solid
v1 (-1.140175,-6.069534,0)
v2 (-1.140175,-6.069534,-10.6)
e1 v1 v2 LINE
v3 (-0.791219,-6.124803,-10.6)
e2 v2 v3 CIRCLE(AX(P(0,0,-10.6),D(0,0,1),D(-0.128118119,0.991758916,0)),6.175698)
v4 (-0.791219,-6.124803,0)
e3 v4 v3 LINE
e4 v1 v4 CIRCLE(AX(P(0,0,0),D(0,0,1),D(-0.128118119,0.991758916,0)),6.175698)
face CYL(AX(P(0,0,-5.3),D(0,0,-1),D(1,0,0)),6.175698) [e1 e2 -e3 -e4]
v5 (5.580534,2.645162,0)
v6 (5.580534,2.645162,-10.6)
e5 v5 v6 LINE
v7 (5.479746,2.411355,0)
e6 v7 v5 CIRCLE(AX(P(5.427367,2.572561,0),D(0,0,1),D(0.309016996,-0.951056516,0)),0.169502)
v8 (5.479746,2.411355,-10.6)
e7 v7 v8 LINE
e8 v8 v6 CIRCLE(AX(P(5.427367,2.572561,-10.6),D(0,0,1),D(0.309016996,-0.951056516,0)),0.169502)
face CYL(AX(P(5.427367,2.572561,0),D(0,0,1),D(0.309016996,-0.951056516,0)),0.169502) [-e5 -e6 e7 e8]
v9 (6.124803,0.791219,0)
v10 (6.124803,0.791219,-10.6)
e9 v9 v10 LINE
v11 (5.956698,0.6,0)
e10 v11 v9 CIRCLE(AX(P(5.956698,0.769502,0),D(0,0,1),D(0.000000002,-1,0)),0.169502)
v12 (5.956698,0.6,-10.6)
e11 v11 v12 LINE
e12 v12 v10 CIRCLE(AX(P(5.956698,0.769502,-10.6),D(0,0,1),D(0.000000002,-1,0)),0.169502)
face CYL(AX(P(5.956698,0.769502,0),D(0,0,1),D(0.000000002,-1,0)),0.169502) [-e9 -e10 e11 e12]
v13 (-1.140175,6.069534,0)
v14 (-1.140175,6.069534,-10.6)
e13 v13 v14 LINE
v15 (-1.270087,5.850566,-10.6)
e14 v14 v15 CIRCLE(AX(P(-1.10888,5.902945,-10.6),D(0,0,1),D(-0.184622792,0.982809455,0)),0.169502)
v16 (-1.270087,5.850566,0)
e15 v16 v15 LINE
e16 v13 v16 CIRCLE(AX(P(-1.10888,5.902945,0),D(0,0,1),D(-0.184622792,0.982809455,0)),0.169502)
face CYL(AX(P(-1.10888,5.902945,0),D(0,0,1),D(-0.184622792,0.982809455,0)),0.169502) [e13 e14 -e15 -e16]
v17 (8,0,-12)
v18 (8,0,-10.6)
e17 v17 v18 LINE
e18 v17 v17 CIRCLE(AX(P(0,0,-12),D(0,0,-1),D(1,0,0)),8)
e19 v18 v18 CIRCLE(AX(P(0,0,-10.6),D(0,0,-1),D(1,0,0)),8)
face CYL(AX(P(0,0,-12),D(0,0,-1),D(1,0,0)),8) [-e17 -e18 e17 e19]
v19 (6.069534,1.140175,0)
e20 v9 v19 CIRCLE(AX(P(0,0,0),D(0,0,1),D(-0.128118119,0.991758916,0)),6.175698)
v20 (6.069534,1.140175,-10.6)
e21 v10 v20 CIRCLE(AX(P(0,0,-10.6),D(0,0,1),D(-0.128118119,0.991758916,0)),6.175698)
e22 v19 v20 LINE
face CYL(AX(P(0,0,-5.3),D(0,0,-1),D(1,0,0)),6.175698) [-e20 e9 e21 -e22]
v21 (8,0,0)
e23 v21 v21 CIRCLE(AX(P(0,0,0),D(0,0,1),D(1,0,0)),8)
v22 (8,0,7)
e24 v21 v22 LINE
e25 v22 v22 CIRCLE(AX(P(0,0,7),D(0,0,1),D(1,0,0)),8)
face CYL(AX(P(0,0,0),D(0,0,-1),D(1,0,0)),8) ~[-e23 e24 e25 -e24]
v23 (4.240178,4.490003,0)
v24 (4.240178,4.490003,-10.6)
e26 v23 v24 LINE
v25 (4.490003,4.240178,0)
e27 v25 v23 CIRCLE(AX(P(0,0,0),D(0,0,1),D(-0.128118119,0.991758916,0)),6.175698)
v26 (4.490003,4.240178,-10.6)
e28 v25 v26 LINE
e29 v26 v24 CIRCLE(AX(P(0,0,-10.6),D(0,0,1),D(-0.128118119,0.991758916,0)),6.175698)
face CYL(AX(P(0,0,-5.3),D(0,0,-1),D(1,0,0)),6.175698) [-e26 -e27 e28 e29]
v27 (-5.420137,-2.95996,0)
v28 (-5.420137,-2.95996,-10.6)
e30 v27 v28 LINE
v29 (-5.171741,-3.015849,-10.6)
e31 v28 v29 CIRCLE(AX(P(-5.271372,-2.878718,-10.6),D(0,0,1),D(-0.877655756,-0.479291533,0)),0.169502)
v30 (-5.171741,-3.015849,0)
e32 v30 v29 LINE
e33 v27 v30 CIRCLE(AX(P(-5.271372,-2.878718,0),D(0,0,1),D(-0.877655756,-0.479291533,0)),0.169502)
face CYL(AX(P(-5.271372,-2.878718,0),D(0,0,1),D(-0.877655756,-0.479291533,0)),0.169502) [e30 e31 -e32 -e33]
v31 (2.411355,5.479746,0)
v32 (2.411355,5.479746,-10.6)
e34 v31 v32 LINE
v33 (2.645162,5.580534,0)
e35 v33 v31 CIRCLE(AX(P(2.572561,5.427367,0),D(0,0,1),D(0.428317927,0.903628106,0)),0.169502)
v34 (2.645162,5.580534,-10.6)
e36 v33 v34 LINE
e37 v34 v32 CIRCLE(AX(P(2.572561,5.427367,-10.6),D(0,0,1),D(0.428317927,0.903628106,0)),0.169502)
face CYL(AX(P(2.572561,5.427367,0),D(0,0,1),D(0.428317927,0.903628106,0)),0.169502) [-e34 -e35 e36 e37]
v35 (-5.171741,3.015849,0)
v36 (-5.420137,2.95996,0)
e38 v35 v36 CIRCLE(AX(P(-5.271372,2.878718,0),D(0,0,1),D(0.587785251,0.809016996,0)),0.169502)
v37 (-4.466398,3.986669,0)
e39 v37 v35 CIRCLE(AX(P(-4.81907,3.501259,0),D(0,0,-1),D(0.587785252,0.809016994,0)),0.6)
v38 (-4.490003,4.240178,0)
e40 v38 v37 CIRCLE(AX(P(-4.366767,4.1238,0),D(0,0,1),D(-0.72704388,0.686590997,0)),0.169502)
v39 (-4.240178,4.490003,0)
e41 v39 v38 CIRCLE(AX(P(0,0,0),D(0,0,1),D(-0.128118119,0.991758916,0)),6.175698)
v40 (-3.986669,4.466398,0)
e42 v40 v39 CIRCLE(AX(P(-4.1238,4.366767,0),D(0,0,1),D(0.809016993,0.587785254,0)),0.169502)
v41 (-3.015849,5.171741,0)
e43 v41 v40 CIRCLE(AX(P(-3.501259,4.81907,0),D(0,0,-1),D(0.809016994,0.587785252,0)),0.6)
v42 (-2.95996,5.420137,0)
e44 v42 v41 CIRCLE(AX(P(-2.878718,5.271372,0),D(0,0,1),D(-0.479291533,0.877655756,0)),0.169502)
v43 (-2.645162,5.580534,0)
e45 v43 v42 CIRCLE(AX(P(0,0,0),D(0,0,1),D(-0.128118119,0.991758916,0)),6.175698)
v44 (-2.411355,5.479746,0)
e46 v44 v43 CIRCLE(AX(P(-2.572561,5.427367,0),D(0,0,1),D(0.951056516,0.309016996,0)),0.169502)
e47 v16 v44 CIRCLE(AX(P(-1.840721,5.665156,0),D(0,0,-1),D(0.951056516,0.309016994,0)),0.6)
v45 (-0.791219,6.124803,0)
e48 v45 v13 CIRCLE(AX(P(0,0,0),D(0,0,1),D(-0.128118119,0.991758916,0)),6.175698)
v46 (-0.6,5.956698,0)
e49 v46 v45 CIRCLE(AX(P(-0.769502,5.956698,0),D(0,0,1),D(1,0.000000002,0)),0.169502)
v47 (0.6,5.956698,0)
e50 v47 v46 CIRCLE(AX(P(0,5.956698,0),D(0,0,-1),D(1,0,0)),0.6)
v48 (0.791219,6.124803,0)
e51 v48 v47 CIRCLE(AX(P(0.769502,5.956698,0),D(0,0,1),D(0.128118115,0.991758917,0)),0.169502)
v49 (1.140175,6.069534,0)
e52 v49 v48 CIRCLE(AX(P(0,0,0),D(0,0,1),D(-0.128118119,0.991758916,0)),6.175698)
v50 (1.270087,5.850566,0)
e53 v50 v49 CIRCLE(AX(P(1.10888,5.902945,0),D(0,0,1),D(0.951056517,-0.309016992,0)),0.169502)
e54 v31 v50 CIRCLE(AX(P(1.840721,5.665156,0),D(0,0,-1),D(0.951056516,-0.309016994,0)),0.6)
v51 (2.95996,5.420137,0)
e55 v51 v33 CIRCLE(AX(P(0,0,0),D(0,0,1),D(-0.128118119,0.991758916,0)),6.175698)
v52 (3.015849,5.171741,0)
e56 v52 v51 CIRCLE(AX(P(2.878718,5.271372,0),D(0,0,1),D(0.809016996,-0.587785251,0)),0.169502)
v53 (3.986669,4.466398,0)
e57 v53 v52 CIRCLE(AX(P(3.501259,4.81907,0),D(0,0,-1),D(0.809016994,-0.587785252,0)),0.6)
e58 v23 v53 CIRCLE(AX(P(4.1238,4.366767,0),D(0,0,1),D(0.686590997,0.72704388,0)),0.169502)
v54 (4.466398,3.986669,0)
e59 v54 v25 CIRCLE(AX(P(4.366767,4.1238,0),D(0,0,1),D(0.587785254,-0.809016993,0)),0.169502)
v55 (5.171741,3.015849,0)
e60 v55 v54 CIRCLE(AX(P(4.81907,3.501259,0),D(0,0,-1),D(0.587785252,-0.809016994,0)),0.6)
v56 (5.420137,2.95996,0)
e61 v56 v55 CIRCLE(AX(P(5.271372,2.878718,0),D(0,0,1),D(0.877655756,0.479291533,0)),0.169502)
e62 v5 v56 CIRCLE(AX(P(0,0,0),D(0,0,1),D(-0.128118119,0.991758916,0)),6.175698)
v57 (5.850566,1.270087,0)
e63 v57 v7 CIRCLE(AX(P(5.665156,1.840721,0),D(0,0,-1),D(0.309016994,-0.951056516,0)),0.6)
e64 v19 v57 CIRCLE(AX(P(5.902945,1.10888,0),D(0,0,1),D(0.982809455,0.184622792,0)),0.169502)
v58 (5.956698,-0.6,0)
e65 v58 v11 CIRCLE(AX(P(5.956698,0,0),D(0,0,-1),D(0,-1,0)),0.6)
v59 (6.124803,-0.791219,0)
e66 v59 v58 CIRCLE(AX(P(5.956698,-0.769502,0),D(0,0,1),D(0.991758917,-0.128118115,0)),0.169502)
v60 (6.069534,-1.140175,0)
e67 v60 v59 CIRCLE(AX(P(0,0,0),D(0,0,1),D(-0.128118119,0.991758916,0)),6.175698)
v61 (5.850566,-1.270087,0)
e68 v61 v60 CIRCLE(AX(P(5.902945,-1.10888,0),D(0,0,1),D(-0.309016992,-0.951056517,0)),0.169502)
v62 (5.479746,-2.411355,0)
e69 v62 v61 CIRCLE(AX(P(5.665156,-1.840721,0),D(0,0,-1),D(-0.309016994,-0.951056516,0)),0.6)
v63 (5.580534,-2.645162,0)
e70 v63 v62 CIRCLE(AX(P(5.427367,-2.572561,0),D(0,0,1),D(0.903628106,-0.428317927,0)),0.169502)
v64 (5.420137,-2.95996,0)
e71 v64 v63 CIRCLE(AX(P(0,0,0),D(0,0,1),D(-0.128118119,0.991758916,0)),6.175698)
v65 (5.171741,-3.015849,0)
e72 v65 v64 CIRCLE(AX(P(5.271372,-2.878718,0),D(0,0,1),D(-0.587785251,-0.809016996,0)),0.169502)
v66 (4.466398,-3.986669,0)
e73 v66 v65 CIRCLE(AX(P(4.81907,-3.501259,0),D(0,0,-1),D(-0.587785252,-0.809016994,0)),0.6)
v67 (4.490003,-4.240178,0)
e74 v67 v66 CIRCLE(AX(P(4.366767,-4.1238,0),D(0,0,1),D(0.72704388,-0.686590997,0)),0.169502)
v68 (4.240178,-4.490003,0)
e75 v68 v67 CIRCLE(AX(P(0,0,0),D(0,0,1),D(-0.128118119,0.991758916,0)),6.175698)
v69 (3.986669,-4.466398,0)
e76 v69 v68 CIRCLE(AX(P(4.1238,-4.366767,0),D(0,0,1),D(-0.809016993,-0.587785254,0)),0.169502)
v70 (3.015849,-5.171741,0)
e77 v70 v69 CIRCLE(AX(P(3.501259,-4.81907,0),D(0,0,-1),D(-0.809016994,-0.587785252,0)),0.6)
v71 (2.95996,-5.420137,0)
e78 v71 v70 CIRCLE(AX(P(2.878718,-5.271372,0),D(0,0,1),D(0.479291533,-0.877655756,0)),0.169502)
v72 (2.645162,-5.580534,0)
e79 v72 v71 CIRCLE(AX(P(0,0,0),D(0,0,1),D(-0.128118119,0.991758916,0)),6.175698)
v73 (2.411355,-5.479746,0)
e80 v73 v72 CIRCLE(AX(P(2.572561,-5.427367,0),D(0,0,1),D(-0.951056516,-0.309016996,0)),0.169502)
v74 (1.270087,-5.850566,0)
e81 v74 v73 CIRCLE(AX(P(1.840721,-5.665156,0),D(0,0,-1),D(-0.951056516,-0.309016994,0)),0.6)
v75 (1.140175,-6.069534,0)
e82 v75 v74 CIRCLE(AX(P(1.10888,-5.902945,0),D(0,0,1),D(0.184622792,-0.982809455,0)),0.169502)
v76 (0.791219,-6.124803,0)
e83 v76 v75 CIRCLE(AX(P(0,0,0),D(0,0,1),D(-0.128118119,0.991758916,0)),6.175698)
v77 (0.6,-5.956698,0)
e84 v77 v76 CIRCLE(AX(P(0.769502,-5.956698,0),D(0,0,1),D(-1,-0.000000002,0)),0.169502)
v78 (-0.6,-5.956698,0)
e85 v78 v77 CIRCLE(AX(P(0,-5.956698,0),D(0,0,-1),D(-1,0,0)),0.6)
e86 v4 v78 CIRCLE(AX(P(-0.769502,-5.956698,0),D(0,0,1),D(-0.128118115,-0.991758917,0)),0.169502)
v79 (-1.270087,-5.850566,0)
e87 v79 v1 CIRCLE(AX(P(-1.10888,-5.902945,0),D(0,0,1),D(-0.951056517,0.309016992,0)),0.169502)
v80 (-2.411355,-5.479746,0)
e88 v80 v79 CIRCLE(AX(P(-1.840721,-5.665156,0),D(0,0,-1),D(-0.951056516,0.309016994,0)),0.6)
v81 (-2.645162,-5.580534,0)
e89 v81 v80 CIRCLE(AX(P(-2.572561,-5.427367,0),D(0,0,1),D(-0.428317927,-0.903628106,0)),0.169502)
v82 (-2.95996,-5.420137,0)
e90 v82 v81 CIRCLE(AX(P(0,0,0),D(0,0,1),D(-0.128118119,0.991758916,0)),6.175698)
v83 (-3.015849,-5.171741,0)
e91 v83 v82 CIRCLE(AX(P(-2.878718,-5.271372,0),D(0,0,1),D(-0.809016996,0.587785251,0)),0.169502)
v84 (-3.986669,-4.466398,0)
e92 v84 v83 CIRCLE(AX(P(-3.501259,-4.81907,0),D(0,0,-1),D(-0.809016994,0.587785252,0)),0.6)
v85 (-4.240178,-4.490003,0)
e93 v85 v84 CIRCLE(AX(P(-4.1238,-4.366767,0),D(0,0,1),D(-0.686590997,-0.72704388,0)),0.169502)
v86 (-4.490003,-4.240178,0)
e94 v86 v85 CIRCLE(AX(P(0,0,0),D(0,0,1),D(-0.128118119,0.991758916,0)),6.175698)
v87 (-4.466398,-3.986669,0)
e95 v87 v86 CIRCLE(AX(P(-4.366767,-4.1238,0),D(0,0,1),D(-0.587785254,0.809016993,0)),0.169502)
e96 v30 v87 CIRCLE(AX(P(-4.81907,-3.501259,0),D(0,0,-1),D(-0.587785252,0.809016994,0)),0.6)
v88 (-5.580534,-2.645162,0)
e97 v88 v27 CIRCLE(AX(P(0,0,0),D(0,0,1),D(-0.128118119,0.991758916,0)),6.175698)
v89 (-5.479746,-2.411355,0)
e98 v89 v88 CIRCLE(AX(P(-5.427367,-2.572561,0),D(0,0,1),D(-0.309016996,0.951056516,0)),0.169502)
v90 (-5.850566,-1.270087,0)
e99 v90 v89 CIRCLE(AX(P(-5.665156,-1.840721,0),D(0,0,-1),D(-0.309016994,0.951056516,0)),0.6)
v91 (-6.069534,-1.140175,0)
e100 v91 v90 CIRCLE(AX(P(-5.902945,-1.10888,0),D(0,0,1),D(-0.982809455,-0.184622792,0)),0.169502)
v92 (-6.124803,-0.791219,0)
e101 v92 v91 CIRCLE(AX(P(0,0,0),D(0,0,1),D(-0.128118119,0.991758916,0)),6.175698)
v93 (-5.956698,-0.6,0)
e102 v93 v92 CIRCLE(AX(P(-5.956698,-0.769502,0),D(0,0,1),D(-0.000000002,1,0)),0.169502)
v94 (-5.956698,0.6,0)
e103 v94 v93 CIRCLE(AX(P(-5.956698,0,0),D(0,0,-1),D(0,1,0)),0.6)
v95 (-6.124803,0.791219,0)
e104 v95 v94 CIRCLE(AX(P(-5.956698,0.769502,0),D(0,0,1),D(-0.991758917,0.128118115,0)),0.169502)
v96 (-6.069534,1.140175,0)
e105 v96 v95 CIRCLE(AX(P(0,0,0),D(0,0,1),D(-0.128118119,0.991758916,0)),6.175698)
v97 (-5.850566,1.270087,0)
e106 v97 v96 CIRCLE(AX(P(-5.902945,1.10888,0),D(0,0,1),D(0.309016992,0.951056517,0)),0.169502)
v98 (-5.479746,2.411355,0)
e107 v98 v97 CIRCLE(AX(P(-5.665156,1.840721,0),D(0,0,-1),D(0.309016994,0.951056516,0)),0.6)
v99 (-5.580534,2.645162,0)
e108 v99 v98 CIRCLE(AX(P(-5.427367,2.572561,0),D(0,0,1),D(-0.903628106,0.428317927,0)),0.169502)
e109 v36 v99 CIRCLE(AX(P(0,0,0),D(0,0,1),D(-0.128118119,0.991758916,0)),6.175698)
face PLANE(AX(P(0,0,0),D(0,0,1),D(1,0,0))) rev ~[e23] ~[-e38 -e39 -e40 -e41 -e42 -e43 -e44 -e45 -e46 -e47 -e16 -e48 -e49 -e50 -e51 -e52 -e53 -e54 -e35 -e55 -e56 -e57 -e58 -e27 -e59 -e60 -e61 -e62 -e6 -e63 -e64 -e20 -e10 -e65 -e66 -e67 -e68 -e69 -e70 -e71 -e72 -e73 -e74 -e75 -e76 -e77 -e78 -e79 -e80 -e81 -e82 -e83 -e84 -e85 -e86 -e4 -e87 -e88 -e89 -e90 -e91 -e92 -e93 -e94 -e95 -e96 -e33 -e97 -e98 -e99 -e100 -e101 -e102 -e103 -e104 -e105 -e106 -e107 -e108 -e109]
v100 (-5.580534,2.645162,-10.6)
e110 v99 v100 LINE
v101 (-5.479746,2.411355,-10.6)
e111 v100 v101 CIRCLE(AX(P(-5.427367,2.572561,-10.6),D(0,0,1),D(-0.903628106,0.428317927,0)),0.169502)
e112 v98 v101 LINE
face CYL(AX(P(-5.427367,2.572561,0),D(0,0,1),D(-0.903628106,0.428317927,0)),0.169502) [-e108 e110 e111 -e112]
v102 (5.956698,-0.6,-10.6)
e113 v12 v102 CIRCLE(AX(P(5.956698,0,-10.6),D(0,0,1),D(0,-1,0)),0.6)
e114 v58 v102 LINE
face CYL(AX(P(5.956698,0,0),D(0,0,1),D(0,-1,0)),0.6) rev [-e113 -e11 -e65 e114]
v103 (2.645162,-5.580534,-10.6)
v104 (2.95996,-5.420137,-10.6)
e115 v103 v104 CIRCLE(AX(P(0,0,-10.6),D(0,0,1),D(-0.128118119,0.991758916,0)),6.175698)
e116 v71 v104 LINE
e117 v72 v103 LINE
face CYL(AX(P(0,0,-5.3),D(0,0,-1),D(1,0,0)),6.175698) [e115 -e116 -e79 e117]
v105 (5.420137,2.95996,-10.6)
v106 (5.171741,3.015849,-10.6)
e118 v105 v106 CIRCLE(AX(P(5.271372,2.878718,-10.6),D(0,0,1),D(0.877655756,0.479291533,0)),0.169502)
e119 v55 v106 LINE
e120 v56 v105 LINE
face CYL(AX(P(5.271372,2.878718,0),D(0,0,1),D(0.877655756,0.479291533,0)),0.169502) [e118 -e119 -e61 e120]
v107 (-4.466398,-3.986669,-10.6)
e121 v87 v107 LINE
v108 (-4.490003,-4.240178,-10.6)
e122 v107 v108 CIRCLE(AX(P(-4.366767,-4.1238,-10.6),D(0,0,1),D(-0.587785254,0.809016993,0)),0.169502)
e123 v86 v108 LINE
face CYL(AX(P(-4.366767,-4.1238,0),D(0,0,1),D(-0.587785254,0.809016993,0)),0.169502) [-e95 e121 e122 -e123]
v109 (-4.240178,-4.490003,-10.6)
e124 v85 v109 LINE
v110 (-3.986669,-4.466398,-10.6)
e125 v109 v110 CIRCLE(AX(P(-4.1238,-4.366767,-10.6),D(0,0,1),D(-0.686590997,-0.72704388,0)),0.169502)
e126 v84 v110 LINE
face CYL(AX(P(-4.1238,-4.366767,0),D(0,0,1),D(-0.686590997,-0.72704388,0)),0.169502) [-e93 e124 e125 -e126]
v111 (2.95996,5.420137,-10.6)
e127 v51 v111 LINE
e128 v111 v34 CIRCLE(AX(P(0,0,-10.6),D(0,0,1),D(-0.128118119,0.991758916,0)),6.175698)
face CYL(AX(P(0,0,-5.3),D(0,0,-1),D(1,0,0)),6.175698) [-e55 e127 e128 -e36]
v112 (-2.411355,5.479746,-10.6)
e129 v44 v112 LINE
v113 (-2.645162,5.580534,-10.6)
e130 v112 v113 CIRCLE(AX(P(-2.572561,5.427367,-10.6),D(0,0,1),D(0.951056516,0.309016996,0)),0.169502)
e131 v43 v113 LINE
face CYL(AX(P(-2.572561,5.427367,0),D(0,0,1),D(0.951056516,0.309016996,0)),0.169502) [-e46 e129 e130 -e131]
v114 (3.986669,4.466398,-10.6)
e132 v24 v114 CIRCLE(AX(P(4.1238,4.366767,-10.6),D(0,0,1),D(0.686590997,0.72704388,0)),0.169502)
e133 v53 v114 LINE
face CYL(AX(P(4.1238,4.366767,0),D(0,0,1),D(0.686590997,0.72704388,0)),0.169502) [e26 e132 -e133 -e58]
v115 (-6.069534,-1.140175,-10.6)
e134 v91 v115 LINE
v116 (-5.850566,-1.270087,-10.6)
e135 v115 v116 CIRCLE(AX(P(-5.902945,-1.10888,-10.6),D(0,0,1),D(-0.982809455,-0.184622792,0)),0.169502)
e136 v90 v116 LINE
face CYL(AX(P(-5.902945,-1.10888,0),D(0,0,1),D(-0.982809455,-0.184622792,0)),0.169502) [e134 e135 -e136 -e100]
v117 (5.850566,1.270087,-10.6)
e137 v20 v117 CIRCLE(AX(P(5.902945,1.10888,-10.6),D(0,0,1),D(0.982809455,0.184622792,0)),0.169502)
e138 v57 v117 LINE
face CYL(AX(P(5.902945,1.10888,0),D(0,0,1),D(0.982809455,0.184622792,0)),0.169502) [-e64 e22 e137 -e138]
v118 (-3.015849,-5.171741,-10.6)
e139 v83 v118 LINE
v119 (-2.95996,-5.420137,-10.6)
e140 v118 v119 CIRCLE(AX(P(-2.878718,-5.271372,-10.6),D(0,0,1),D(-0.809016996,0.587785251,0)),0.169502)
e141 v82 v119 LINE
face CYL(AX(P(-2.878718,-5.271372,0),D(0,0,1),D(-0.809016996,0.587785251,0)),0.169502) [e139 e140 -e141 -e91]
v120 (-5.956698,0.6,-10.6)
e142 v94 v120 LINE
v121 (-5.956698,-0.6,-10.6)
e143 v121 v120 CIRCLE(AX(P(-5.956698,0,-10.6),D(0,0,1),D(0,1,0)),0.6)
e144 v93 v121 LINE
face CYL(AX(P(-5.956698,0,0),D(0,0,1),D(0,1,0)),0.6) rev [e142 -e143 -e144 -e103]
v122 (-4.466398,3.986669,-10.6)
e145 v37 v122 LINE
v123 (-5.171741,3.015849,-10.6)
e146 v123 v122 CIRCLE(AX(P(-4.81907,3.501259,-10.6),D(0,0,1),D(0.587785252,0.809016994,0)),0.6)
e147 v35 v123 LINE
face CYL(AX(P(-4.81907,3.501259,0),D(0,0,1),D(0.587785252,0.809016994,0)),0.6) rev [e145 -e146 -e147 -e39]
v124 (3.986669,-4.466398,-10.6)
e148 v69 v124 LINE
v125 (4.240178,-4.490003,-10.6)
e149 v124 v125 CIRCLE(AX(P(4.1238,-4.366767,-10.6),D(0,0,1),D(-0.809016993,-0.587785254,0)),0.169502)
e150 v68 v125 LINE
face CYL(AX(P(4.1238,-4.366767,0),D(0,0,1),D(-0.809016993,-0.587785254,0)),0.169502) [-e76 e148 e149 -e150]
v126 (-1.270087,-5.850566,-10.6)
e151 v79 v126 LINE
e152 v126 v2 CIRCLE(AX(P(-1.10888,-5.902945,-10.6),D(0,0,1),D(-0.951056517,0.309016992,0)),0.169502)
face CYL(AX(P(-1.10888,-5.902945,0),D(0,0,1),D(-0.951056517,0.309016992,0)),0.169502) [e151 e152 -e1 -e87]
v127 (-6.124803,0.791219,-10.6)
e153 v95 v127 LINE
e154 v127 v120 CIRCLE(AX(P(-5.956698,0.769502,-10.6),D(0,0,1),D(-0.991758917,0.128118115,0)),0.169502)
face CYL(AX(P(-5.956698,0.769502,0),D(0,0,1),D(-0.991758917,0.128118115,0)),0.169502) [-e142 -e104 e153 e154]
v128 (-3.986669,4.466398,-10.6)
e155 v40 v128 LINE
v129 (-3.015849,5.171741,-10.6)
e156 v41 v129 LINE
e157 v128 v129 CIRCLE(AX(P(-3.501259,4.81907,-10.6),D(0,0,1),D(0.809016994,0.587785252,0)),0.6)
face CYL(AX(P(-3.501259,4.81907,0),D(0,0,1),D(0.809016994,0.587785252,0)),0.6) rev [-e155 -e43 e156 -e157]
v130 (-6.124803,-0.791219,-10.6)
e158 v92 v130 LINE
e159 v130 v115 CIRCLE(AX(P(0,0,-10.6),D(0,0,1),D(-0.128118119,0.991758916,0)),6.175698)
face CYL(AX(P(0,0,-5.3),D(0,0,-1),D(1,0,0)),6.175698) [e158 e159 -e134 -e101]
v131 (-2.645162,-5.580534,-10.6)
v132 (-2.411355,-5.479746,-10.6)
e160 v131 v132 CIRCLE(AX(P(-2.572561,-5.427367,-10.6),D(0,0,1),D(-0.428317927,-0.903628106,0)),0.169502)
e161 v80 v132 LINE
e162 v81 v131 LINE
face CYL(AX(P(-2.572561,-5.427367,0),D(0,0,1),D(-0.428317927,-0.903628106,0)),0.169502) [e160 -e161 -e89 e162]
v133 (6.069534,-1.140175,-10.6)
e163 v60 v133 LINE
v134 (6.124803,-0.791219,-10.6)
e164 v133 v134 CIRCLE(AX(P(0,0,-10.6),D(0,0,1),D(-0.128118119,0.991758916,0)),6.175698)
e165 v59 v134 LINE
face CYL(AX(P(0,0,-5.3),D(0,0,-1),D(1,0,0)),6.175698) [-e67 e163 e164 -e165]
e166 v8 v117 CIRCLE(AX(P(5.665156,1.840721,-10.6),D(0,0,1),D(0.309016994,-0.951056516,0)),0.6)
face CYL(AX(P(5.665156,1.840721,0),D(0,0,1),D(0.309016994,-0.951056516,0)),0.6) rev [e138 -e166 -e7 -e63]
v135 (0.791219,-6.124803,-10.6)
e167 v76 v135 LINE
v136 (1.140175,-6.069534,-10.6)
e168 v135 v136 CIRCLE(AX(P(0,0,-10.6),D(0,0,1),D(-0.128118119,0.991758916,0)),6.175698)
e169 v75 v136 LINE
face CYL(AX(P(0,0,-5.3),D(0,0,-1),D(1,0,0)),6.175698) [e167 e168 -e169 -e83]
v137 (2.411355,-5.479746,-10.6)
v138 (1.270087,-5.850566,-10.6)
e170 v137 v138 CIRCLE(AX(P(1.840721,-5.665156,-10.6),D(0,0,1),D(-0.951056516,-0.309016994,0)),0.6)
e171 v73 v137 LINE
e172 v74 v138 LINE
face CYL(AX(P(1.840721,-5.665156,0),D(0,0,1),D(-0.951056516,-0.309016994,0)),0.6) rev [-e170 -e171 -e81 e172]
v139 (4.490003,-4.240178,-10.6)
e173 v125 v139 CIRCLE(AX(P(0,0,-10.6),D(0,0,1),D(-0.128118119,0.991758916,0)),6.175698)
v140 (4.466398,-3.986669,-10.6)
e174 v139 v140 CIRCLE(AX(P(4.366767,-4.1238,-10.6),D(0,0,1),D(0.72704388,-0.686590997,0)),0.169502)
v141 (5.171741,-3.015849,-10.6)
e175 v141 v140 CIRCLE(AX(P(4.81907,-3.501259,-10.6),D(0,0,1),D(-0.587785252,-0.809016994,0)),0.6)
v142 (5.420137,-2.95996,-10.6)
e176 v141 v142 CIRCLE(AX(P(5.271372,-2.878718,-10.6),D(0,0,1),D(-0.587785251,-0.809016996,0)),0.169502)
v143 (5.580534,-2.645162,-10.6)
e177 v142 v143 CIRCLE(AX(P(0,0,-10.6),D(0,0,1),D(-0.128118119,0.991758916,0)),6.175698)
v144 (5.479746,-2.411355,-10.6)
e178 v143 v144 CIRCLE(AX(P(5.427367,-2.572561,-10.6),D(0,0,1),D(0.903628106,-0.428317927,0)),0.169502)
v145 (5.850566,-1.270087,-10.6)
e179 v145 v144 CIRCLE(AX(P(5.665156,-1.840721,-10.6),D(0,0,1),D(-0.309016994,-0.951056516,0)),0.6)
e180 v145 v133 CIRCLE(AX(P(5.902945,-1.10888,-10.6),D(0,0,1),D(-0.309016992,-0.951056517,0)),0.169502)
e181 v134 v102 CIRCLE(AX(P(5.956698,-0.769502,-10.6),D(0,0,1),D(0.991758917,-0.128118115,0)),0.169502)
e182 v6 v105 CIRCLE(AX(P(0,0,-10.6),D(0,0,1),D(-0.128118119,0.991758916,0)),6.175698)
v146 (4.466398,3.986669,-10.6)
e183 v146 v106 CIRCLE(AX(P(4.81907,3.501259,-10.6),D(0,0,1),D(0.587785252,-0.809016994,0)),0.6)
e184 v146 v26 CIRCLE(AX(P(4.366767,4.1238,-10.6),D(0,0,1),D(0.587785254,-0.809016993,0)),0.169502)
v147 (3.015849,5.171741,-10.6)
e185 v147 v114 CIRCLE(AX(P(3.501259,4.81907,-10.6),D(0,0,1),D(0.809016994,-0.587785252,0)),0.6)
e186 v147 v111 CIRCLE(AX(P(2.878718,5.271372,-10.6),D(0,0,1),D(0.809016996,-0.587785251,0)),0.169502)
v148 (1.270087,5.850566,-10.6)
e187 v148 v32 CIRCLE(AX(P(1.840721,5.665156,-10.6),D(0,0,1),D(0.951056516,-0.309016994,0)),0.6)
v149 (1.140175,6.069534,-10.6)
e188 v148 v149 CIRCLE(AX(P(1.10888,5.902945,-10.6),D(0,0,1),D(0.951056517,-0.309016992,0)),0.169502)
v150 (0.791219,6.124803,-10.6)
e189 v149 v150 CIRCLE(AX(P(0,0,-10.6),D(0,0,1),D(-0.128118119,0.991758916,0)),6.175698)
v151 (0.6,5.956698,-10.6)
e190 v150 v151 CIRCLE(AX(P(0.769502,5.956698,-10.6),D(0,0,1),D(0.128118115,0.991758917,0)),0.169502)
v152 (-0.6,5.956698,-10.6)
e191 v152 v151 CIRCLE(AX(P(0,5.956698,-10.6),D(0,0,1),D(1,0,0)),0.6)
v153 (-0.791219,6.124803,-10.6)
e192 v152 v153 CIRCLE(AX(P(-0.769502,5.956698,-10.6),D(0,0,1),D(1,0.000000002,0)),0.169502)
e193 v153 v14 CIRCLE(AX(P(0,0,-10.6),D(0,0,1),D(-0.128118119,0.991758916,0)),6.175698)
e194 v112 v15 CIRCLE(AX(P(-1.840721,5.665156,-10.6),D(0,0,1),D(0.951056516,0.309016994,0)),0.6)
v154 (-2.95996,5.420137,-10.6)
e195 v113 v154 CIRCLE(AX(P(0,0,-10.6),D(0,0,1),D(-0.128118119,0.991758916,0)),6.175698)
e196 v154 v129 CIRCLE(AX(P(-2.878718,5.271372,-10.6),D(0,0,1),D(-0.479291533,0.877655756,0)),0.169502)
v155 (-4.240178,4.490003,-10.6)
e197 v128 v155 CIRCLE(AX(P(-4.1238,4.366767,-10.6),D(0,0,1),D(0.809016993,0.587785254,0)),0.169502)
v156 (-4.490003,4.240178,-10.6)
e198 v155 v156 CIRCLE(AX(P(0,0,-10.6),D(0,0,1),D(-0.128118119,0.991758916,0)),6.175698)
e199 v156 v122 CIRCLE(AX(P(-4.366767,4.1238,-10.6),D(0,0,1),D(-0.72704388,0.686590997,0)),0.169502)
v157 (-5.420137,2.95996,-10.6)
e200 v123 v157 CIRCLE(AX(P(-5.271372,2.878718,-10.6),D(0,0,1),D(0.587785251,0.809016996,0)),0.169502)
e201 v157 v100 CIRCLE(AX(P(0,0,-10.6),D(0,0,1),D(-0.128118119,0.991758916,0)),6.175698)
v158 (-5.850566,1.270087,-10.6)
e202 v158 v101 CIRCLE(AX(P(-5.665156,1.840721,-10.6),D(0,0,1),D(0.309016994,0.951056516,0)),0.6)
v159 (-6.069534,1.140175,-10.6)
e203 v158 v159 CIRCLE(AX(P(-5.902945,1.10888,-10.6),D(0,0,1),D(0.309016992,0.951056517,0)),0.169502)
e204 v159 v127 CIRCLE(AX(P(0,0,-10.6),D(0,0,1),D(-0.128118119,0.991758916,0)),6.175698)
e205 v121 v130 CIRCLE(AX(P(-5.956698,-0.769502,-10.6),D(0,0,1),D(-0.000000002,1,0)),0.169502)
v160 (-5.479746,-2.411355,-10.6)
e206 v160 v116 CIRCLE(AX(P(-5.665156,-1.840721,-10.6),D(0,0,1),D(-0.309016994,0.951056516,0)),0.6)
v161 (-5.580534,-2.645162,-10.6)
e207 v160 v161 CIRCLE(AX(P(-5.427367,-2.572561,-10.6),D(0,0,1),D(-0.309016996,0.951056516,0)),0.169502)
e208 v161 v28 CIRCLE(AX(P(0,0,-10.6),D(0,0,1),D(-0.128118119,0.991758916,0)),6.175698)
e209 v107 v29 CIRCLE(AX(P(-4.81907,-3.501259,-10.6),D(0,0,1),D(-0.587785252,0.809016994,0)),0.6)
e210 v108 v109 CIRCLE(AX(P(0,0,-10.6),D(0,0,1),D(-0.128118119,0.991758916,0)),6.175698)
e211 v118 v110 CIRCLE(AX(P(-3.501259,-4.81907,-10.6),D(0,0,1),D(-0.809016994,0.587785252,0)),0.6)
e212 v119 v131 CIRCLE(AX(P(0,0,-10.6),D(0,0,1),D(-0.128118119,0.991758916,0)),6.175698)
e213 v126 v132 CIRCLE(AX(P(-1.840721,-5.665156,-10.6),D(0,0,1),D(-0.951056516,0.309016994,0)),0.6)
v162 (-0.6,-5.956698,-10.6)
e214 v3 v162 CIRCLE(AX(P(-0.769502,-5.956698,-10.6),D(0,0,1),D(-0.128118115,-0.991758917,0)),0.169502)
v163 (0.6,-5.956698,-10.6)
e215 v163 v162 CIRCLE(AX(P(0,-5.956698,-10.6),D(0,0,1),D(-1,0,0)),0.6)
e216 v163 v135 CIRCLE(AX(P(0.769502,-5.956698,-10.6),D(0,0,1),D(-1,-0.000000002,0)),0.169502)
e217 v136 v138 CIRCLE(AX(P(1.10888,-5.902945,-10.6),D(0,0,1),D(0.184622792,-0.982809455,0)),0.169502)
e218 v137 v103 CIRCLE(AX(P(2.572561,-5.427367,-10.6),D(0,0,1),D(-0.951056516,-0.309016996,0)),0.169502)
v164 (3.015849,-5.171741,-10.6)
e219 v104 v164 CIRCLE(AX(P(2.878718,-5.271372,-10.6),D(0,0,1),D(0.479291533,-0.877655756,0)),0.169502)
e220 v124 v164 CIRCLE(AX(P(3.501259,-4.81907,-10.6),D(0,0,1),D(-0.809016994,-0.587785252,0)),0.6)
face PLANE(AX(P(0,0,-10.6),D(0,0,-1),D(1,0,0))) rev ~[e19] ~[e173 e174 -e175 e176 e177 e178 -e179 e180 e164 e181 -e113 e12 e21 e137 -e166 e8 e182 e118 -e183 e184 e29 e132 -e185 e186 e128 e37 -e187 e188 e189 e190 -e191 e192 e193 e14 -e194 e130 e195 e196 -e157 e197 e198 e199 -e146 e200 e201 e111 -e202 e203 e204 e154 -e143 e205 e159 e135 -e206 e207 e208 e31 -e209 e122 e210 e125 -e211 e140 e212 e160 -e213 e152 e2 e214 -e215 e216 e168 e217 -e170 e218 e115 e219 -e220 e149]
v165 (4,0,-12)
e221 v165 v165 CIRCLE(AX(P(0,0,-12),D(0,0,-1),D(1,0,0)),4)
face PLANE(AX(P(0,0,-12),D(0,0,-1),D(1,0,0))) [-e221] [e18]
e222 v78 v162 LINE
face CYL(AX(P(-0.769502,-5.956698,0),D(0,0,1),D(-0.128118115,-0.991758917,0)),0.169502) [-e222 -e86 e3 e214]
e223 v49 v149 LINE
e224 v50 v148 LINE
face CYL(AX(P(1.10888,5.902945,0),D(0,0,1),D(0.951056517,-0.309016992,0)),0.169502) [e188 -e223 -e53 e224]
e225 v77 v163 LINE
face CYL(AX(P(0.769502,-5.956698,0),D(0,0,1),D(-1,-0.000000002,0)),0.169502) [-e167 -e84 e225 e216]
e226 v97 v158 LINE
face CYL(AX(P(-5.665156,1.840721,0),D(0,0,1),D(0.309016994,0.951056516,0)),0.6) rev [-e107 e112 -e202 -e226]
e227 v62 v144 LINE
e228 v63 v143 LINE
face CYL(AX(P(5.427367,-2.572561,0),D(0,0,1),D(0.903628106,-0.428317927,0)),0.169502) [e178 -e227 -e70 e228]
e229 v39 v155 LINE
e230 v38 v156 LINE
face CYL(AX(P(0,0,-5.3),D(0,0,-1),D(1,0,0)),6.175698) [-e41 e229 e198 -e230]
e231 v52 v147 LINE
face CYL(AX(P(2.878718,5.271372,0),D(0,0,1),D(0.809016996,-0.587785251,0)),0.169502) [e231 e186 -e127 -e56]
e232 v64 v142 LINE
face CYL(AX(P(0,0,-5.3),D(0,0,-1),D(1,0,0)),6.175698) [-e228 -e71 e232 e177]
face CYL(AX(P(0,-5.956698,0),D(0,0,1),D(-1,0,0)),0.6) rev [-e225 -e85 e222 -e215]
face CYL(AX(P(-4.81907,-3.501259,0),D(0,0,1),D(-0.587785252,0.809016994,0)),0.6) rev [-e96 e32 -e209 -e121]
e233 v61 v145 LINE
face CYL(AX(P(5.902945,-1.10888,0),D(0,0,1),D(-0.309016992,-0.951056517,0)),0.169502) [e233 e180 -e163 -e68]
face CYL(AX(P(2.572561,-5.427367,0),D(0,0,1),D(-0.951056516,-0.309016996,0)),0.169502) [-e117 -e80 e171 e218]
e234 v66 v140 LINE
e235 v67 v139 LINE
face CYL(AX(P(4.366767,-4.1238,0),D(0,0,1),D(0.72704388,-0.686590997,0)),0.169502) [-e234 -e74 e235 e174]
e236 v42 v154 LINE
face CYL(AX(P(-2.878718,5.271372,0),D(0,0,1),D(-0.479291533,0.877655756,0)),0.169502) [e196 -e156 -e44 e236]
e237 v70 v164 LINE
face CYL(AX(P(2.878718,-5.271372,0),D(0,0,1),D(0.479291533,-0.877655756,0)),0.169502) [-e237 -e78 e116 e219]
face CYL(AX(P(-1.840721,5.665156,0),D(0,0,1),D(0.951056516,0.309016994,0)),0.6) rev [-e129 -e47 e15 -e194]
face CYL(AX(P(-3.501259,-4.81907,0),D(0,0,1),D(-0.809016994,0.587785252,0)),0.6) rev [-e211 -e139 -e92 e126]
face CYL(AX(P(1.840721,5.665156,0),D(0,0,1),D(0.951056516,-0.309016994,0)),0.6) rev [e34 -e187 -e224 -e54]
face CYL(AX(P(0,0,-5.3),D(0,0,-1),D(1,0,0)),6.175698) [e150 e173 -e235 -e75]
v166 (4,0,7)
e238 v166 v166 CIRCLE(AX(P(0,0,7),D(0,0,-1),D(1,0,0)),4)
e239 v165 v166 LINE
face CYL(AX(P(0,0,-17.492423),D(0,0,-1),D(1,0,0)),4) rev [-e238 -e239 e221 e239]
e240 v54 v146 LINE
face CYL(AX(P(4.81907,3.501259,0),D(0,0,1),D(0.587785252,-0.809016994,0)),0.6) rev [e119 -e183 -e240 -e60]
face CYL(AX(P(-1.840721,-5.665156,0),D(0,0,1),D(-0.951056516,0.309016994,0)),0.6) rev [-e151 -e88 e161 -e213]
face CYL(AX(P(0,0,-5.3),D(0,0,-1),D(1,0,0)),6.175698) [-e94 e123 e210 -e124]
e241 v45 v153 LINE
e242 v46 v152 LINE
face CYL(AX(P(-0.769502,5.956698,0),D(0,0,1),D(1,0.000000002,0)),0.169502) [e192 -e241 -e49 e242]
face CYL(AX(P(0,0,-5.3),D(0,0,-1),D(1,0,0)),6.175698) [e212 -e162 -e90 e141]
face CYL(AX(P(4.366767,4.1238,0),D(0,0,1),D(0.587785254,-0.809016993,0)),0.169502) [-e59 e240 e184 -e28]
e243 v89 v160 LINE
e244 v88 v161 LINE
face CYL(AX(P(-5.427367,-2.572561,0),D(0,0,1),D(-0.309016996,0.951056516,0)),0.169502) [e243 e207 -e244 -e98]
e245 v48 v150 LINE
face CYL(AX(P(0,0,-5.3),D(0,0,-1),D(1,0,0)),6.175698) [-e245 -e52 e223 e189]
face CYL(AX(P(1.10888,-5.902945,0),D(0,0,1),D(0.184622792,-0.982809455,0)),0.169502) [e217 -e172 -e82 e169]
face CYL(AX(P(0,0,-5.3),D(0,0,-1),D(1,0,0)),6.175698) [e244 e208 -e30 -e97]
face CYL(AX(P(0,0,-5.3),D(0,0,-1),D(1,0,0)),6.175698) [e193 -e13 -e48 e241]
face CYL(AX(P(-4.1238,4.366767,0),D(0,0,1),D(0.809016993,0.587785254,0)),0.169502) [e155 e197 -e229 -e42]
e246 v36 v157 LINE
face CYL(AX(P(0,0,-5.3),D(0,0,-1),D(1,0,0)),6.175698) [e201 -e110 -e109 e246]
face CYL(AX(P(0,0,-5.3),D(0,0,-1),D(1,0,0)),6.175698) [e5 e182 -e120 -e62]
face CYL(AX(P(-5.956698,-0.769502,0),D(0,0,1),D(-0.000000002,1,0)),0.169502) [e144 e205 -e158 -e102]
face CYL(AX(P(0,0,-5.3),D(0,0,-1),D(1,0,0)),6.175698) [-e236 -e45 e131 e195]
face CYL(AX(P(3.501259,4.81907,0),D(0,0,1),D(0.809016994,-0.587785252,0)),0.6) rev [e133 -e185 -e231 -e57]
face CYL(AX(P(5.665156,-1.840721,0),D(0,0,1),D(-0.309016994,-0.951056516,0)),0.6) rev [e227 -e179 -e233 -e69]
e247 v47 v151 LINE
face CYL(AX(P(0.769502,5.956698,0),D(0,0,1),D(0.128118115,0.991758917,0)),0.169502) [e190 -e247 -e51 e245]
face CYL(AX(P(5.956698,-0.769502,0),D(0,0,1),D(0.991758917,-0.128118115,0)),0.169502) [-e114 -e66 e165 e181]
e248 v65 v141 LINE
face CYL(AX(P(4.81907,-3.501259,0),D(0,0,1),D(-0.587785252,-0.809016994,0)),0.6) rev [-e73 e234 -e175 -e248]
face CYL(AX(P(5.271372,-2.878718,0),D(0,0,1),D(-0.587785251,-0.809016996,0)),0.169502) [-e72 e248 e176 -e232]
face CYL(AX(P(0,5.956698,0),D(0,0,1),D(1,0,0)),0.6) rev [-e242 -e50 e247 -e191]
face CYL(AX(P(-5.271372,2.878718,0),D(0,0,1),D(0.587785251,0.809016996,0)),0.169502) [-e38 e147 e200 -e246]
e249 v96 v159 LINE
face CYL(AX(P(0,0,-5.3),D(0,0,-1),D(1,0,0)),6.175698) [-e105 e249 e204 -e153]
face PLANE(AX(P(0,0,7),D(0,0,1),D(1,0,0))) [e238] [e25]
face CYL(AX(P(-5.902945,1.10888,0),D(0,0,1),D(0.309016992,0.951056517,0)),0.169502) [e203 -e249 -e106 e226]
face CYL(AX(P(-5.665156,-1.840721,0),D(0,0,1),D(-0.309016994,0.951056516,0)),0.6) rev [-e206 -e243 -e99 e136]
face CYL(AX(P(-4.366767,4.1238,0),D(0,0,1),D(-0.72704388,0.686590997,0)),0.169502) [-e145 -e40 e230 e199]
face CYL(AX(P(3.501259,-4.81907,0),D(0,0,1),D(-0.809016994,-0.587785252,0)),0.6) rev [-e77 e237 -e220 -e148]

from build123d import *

# Parameters (mm, degrees)
SKETCHREVOLVEGEARBELT01_W       = 10.6
SKETCHREVOLVEGEARBELT01_H       = 6.175697631
TOOTHEXTRUDECUTGEARBELT01_DEPTH = 11.5
CIRPATTERN2_COUNT               = 20
SKETCH6_R                       = 8
BOSS_EXTRUDE1_DEPTH             = 7
BOSS_EXTRUDE2_START             = 1.4
SKETCH7_R                       = 8
BOSS_EXTRUDE2_DEPTH             = 1.4
CUT_EXTRUDE2_DEPTH              = 17.492422502
CUT_EXTRUDE2_DEPTH_BACK         = 17.492422502
SKETCH8_R                       = 4


with BuildPart() as part:
    # SketchRevolveGearBelt01 → GearBelt01 (revolve)
    with BuildSketch(Plane(origin=(0, 0, 0), x_dir=(0, 0, -1), z_dir=(1, 0, 0))):
        with Locations((5.3, 3.087848816)):
            Rectangle(SKETCHREVOLVEGEARBELT01_W, SKETCHREVOLVEGEARBELT01_H)
    revolve(axis=Axis((0, 0, 0), (0, 0, -1)))

    # SketchToothGearBelt01 → ToothExtrudeCutGearBelt01 (cut)
    with BuildSketch(Plane.XY):
        with BuildLine():
            Line((-0.791218763, 6.124803189), (0, 8.715697593))
            Line((0, 8.715697593), (0.791218763, 6.124803189))
            ThreePointArc((0.791218763, 6.124803189), (0.657587048, 6.084000517), (0.599999991, 5.956697634))
            ThreePointArc((0.599999991, 5.956697634), (0, 5.356697643), (-0.599999991, 5.956697634))
            ThreePointArc((-0.599999991, 5.956697634), (-0.657587048, 6.084000517), (-0.791218763, 6.124803189))
        make_face()
    toothextrudecutgearbelt01 = extrude(amount=-TOOTHEXTRUDECUTGEARBELT01_DEPTH, mode=Mode.SUBTRACT)

    # CirPattern2: ToothExtrudeCutGearBelt01 ×20 about axis
    cirpattern2_axis = Axis((0, 0, 0), (0, 0, 1))
    for i in range(1, CIRPATTERN2_COUNT):
        add(toothextrudecutgearbelt01.rotate(cirpattern2_axis, i * 360 / CIRPATTERN2_COUNT), mode=Mode.SUBTRACT)

    # Sketch6 → Boss-Extrude1 (add)
    with BuildSketch(Plane.XY):
        Circle(SKETCH6_R)
    extrude(amount=BOSS_EXTRUDE1_DEPTH)

    # Sketch7 → Boss-Extrude2 (add)
    with BuildSketch(Plane(origin=(0, 0, -10.6), x_dir=(-1, 0, 0), z_dir=(0, 0, -1)).offset(BOSS_EXTRUDE2_START)):
        Circle(SKETCH7_R)
    extrude(amount=-BOSS_EXTRUDE2_DEPTH)

    # Sketch8 → Cut-Extrude2 (cut, two sides: drawn at the far end of the back side and taken through both)
    with BuildSketch(Plane.XY.offset(-CUT_EXTRUDE2_DEPTH_BACK)):
        Circle(SKETCH8_R)
    extrude(amount=CUT_EXTRUDE2_DEPTH + CUT_EXTRUDE2_DEPTH_BACK, mode=Mode.SUBTRACT)


solid = part.part
